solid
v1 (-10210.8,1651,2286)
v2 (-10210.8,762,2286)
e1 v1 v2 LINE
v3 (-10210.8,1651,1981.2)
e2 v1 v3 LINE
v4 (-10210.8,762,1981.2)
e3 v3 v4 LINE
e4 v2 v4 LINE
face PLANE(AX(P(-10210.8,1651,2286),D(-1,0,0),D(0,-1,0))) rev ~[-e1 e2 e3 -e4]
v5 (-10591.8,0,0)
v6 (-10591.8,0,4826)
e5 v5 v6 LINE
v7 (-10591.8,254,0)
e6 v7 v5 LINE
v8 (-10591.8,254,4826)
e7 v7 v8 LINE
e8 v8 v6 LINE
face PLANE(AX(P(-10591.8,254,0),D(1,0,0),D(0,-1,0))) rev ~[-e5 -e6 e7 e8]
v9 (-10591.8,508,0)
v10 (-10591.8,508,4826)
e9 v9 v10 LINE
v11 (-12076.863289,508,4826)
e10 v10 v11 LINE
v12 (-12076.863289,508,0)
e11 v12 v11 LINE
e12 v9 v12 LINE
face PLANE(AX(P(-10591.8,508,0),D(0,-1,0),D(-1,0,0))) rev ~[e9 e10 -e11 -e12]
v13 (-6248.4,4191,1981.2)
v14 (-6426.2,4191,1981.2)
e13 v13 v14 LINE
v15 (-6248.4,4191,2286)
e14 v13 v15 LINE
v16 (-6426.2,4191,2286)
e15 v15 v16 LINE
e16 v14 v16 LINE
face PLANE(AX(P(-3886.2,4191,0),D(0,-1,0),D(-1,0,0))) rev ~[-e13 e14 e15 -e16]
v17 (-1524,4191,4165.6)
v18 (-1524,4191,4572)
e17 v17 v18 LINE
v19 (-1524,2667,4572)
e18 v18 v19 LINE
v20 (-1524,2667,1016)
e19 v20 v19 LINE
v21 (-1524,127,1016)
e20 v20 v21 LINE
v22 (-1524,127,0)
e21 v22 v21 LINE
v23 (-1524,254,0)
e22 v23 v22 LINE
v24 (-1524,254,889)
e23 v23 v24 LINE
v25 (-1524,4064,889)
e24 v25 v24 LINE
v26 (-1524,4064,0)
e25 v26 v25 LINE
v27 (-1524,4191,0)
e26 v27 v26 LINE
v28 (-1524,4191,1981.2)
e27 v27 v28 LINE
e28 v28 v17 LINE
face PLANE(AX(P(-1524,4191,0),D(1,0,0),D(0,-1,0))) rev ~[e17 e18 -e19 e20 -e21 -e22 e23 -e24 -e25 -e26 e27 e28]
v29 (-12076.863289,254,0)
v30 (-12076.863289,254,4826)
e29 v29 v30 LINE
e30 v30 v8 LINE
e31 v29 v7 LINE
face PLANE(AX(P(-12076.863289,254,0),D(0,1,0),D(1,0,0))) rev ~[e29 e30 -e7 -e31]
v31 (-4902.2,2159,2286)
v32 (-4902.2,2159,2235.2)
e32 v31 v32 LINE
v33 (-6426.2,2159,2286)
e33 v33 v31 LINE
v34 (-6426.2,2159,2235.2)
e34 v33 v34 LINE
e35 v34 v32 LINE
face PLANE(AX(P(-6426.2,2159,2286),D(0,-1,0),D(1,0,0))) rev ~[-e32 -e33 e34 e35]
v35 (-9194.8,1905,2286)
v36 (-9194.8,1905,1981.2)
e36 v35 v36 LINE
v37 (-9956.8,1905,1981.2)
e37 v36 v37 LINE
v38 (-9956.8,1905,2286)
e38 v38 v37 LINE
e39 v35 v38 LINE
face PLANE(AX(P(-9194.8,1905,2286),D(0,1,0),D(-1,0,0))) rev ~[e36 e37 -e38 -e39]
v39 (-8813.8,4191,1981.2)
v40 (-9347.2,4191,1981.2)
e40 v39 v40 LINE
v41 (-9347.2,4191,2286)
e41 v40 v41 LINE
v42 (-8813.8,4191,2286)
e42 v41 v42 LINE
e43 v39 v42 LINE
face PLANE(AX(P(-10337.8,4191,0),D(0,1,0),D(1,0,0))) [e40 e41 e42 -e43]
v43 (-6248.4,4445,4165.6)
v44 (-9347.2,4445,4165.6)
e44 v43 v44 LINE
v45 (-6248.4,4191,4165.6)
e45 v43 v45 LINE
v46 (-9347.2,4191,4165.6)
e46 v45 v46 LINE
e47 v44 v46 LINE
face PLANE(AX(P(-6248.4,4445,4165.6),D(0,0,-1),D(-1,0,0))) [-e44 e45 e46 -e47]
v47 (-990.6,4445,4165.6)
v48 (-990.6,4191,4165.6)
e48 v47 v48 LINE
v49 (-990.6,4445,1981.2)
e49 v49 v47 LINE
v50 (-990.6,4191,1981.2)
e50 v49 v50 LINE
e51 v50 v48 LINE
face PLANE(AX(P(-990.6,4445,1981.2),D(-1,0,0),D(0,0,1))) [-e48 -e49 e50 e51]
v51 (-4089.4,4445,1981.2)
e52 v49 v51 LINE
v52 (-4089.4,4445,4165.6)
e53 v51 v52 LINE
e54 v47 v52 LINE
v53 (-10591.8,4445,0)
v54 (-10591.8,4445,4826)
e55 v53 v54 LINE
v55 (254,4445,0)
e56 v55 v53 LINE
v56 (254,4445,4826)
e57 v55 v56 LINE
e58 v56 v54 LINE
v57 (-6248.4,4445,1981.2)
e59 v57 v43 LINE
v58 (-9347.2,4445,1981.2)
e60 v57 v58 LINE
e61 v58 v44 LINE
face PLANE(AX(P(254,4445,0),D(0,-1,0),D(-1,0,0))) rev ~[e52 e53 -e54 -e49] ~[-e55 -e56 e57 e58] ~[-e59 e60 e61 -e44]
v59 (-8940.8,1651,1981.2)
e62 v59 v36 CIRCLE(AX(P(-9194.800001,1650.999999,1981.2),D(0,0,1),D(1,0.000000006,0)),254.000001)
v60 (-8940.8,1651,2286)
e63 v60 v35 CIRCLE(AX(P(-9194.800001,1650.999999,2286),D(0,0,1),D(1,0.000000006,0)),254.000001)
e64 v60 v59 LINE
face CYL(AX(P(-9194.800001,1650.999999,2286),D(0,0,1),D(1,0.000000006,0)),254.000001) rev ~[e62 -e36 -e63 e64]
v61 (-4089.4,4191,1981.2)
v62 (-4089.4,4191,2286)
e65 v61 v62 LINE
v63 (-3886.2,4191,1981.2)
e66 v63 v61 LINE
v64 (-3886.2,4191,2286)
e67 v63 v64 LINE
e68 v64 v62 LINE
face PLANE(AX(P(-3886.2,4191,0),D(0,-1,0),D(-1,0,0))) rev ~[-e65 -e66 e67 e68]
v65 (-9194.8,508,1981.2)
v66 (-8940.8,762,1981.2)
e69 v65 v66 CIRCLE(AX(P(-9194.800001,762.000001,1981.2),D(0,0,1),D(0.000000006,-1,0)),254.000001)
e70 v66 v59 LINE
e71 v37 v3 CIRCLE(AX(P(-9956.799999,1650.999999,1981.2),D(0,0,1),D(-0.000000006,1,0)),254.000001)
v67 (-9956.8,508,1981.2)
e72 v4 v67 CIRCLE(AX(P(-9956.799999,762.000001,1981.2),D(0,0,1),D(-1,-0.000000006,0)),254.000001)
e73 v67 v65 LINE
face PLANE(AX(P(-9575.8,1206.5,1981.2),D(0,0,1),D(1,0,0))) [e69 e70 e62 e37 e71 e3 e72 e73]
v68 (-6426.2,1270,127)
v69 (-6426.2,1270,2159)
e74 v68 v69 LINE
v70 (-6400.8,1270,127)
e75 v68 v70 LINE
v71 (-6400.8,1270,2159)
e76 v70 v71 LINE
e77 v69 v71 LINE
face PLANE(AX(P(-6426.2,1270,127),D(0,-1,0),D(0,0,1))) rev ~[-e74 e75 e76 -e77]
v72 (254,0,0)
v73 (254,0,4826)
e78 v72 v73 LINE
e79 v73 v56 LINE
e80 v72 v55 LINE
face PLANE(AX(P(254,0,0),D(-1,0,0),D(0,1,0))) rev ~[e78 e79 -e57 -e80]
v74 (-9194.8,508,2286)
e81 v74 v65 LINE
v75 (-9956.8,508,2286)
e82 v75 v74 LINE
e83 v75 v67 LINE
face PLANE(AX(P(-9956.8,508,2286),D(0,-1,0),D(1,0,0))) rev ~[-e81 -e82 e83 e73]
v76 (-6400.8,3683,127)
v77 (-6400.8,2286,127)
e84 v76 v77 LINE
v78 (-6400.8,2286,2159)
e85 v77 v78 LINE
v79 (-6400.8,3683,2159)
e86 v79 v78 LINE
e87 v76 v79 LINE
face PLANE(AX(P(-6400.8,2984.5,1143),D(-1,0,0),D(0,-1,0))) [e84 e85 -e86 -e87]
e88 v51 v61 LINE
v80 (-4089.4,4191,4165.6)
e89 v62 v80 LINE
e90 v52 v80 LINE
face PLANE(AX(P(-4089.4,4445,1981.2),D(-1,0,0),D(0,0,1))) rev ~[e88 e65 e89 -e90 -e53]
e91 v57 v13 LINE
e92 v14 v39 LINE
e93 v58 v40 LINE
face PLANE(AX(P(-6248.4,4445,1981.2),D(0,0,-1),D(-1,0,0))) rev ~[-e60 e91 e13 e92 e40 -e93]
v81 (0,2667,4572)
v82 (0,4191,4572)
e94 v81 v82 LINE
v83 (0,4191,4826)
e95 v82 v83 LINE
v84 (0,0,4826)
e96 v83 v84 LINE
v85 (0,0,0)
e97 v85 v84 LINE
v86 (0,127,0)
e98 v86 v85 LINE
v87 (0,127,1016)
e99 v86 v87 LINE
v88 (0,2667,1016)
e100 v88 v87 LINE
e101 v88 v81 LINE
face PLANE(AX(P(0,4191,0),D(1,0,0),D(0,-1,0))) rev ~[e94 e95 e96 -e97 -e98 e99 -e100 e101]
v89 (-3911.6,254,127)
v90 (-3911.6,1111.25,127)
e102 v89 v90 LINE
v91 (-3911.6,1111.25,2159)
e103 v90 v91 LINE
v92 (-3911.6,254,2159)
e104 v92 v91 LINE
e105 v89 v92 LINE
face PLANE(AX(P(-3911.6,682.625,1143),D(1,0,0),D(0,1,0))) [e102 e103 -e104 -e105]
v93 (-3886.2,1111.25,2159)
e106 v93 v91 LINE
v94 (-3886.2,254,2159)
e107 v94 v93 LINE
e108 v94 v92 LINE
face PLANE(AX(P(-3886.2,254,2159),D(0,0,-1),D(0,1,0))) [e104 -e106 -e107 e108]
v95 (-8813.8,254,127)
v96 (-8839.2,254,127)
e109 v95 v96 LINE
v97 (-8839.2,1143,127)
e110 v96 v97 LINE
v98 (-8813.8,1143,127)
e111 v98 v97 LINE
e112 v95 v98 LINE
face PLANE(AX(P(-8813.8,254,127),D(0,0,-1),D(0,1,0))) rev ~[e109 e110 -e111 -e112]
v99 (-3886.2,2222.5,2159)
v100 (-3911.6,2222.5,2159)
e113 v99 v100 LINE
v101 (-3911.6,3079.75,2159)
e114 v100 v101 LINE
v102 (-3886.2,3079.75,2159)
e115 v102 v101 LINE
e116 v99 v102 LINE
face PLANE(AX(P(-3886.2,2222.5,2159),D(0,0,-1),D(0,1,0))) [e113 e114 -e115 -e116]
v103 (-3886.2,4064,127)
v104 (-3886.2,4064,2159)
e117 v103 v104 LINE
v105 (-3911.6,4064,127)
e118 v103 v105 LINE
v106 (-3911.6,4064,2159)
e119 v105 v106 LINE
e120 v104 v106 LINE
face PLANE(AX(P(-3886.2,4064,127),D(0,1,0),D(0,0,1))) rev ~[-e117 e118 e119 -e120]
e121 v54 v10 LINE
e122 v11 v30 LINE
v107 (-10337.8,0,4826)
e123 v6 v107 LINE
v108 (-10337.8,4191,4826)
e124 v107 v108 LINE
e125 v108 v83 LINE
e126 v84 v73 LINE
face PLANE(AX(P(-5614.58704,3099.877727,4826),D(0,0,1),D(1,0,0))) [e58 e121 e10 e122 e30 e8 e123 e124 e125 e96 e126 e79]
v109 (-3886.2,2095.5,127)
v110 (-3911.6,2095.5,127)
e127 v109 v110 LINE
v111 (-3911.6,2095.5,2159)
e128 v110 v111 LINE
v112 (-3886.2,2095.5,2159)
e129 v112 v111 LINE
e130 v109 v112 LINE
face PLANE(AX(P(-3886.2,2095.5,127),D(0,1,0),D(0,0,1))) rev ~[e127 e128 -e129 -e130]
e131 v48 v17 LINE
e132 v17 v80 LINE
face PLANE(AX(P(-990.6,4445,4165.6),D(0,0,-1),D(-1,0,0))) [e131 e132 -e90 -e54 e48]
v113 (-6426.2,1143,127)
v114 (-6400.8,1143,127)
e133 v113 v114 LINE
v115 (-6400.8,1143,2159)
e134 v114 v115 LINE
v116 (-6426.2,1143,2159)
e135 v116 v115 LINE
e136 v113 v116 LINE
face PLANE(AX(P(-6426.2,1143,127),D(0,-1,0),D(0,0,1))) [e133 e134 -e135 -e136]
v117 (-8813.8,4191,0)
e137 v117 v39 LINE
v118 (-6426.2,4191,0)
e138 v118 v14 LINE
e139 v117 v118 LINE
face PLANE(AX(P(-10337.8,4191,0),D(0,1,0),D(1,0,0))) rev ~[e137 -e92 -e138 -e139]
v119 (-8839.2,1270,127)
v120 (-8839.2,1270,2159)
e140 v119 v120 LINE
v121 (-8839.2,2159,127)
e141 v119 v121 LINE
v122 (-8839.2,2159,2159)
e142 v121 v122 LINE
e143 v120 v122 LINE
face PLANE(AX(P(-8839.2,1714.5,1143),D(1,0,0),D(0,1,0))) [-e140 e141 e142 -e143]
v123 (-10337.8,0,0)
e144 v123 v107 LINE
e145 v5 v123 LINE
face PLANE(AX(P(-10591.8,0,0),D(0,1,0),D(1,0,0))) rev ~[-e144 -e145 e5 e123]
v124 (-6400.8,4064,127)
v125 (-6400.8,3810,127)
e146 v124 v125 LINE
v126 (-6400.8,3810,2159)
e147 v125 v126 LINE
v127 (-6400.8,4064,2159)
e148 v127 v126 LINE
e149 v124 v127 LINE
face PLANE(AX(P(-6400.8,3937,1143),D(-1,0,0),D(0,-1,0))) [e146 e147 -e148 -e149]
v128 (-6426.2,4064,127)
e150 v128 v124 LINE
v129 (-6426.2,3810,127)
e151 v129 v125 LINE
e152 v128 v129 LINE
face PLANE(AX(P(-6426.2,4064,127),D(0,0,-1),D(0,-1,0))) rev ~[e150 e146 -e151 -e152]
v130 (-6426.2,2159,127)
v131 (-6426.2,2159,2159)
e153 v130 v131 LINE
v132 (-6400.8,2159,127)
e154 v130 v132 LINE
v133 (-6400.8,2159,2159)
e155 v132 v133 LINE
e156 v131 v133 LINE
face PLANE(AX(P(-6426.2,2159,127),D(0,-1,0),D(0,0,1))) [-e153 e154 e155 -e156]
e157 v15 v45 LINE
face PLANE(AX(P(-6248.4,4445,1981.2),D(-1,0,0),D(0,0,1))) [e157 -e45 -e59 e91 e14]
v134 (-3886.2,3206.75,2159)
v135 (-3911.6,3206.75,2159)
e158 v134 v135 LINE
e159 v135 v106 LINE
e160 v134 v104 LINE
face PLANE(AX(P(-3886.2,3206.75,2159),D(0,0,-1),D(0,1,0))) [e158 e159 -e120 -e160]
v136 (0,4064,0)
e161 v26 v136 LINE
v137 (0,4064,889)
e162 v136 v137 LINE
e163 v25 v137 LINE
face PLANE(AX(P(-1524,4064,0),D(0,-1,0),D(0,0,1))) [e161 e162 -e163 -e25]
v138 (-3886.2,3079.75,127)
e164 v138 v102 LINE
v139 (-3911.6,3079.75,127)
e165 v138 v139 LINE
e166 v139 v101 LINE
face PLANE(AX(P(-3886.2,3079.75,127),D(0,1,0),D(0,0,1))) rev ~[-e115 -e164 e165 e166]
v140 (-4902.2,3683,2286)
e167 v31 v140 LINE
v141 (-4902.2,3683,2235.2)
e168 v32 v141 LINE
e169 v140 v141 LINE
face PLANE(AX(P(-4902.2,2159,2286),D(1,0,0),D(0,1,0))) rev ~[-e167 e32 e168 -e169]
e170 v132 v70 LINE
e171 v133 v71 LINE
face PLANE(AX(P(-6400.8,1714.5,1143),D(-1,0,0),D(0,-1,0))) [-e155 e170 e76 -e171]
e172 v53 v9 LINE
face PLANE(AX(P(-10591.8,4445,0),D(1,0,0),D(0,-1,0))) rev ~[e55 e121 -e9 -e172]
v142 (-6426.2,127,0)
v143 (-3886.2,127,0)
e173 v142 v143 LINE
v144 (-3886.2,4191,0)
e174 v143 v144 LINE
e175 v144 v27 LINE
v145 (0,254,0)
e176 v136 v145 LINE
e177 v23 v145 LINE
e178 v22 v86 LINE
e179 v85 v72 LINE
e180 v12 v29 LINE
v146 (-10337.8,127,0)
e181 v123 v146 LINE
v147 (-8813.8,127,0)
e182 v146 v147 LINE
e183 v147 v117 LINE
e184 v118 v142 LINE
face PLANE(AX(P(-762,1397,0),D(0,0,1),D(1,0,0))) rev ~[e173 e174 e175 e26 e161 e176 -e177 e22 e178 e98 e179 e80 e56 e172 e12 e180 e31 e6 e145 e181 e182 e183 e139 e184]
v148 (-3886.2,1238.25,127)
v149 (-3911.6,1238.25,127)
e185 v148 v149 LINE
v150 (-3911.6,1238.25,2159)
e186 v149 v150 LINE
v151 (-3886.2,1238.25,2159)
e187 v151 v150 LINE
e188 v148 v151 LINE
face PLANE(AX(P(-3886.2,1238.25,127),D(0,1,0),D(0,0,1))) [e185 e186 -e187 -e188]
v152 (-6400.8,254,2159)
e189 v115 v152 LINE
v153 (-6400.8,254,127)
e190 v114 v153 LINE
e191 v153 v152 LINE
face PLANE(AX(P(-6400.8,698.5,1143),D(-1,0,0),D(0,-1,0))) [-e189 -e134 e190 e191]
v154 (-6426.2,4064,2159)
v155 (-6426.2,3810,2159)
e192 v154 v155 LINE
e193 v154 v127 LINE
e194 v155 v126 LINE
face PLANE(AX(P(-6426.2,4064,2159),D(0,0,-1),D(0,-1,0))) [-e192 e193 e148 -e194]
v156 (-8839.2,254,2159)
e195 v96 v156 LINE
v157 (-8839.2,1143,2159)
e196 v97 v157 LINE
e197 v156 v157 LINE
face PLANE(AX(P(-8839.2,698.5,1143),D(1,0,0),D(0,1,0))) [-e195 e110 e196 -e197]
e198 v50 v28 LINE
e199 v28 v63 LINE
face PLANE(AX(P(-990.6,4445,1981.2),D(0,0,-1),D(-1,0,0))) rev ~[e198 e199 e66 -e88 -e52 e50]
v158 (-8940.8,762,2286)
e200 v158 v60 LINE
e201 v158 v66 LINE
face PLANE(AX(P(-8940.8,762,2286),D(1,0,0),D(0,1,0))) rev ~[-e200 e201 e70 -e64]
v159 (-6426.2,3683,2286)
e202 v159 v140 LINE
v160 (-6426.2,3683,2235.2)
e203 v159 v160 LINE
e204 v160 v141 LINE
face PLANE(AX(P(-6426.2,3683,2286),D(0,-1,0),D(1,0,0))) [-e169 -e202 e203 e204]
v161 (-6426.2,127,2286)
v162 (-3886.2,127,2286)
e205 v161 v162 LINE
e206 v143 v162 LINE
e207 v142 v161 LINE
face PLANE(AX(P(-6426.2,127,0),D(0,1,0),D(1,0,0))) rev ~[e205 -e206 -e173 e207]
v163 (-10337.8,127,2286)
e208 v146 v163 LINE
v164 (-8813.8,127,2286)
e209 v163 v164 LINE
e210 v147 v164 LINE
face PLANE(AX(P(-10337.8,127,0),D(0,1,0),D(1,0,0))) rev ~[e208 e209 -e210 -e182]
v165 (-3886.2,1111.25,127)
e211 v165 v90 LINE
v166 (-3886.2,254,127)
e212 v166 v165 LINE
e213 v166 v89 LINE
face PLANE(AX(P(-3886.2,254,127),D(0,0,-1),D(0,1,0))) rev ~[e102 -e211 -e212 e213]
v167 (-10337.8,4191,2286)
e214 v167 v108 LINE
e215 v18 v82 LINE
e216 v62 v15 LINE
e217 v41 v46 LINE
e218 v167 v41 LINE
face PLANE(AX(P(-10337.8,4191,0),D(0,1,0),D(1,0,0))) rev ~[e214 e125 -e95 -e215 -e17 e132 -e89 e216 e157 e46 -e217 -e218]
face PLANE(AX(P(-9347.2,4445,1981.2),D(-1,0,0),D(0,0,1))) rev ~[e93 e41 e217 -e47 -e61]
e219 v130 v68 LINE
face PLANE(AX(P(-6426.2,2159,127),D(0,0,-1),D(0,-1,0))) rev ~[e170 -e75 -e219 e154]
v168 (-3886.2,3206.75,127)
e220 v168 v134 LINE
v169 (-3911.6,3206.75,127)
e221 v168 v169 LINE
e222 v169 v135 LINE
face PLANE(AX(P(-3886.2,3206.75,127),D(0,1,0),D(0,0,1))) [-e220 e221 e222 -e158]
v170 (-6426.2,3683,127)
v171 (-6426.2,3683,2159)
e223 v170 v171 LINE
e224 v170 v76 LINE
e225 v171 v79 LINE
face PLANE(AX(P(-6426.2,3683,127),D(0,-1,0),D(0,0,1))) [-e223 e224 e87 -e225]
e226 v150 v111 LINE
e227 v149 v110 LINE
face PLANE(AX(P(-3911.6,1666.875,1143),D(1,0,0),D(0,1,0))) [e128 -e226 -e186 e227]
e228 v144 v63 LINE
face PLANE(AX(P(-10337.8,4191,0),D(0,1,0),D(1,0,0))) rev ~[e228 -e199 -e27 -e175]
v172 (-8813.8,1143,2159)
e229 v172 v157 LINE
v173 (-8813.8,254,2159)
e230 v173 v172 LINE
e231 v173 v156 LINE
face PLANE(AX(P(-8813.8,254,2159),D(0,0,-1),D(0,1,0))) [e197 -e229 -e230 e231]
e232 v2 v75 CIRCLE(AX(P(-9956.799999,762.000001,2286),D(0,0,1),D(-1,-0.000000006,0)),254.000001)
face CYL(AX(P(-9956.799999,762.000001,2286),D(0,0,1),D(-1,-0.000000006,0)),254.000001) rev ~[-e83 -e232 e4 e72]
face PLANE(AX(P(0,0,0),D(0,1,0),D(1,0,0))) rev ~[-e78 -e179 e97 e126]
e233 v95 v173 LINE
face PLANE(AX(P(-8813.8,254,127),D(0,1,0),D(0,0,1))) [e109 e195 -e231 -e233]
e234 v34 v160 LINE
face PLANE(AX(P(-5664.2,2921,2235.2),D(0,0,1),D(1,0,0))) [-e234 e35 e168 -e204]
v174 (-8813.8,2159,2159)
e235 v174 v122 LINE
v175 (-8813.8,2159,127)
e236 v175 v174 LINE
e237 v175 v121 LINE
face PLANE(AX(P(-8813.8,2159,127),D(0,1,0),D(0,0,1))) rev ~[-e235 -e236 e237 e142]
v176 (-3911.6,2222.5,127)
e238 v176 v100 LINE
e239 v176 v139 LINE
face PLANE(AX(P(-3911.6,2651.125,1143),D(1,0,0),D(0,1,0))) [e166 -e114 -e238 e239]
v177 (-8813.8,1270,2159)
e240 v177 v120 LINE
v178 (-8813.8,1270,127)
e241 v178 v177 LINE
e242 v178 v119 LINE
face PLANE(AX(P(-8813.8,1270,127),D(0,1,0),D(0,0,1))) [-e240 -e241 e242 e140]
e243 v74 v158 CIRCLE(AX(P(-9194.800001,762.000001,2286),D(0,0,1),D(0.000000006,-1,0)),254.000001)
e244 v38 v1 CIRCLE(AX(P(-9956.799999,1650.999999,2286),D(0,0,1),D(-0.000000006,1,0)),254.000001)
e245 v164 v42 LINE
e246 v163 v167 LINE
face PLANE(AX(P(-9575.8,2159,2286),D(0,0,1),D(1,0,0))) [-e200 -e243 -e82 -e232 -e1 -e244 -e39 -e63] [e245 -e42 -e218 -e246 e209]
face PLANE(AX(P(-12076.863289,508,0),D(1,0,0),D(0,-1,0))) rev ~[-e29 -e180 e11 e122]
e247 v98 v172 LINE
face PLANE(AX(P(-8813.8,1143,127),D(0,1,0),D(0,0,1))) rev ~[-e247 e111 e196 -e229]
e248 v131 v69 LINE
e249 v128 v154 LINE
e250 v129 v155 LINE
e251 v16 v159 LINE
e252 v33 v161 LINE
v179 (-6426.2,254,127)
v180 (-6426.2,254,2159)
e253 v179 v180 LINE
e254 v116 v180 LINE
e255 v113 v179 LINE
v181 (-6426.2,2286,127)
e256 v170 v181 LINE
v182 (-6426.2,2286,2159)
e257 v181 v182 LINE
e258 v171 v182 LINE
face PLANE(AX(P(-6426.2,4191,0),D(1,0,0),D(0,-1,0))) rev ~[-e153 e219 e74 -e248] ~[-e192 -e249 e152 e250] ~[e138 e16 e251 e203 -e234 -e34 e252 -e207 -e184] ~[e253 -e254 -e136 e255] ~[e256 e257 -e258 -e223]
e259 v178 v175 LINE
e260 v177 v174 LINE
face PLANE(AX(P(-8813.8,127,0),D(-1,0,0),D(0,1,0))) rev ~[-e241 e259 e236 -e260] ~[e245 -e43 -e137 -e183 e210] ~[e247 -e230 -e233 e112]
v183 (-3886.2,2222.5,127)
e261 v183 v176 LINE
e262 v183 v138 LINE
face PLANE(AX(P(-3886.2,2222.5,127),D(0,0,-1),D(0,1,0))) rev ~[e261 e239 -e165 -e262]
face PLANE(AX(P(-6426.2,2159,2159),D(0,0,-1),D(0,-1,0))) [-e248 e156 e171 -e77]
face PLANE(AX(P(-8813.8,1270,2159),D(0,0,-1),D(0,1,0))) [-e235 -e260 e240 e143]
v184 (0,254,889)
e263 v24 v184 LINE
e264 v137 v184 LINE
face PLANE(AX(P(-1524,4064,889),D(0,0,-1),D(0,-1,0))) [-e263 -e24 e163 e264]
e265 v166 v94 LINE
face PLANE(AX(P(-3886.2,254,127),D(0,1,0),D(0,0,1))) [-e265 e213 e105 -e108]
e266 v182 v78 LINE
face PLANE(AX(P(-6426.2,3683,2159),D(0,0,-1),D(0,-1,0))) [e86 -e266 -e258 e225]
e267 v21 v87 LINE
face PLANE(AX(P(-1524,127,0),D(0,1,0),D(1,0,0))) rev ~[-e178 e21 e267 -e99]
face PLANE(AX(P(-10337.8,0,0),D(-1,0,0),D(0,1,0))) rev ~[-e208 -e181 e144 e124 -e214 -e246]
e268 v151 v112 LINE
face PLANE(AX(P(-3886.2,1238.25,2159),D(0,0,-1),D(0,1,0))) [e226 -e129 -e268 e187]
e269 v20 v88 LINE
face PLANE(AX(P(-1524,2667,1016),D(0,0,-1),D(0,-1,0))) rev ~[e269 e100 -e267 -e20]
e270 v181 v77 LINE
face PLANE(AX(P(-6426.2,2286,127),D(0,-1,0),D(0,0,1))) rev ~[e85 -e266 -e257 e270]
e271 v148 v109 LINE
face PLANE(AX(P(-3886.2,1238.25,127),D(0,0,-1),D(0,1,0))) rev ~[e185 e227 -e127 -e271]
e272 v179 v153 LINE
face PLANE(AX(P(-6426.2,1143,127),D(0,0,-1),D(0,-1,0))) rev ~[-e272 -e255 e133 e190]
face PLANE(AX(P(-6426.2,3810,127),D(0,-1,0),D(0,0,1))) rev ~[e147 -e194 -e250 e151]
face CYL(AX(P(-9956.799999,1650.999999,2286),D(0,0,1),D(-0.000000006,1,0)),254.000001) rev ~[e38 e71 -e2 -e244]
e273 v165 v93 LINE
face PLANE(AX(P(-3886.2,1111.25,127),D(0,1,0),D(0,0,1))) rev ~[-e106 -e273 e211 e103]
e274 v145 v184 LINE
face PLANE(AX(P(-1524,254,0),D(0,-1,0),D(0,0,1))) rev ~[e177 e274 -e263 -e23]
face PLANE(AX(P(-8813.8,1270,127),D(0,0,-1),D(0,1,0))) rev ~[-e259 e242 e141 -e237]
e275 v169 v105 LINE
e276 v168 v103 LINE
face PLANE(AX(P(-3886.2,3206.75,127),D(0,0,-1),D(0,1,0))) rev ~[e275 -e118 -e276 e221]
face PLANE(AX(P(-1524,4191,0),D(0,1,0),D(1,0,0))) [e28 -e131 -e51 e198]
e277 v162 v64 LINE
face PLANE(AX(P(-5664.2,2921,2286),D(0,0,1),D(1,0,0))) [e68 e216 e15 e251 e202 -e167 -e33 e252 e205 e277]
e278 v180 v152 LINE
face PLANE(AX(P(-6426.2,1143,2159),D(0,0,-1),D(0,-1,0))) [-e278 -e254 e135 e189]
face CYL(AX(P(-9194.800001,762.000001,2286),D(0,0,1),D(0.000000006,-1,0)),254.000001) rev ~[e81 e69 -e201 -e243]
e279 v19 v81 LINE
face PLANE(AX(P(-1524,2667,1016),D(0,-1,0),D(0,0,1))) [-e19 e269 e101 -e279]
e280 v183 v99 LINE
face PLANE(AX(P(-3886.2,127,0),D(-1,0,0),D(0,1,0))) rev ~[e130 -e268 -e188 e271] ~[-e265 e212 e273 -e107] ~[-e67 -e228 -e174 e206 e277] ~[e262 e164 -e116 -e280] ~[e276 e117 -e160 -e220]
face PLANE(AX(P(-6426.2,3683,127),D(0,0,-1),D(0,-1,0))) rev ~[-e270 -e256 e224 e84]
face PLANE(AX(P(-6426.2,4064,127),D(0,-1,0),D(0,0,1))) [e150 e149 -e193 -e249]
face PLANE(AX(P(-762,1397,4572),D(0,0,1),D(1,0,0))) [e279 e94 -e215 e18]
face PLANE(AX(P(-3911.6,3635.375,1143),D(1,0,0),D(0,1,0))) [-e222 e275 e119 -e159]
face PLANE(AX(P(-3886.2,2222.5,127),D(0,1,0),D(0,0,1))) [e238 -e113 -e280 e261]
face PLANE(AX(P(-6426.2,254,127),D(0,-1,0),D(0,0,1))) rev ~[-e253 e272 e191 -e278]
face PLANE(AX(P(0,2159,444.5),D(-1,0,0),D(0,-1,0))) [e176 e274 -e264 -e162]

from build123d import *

# Parameters (mm, degrees)
F1_DEPTH  = 4826
F2_W      = 3098.8
F2_H      = 2184.4
F3_DEPTH  = 254
F0_W      = 1524
F0_H      = 4064
F0_H_2    = 1524
F4_DEPTH  = 2286
F0_H_3    = 2540
F5_DEPTH  = 4572
F6_W      = 2540
F6_H      = 3556
F6_W_2    = 3810
F6_H_2    = 889
F7_DEPTH  = 1524
F8_W      = 1524
F8_H      = 1524
F9_DEPTH  = 50.8
F11_DEPTH = 304.8
F12_W     = 889
F12_H     = 2032
F13_DEPTH = 25.4
F14_W     = 857.25
F14_H     = 2032
F15_DEPTH = 25.4
F16_W     = 889
F16_H     = 2032
F16_W_2   = 1397
F16_W_3   = 254
F17_DEPTH = 25.4


with BuildPart() as f1:
    # F0 (on Top) → F1 (new body)
    with BuildSketch(Plane.XY):
        Polygon((0, 127), (0, 0), (254, 0), (254, 4445), (-10591.8, 4445), (-10591.8, 508), (-12076.863289, 508), (-12076.863289, 254), (-10591.8, 254), (-10591.8, 0), (-10337.8, 0), (-10337.8, 127), (-10337.8, 4191), (-8813.8, 4191), (-6426.2, 4191), (-3886.2, 4191), (-1524, 4191), (0, 4191), (0, 2667), align=None)
    extrude(amount=F1_DEPTH)

    # F2 (on face) → F3 (cut)
    with BuildSketch(Plane(origin=(0, 4445, 0), x_dir=(-1, 0, 0), z_dir=(0, 1, 0))):
        with Locations((2540, 3073.4)):
            Rectangle(F2_W, F2_H)
        with Locations((7797.8, 3073.4)):
            Rectangle(F2_W, F2_H)
    extrude(amount=-F3_DEPTH, mode=Mode.SUBTRACT)

    # F0 (on Top) → F4 (join)
    with BuildSketch(Plane.XY):
        with Locations((-9575.8, 2159)):
            Rectangle(F0_W, F0_H)
        with Locations((-5664.2, 2921)):
            Rectangle(F0_W, F0_H_2)
        Polygon((-3886.2, 127), (-3886.2, 4191), (-6426.2, 4191), (-6426.2, 3683), (-4902.2, 3683), (-4902.2, 2159), (-6426.2, 2159), (-6426.2, 127), align=None)
    extrude(amount=F4_DEPTH)

    # F0 (on Top) → F5 (join)
    with BuildSketch(Plane.XY):
        with Locations((-762, 1397)):
            Rectangle(F0_W, F0_H_3)
        with Locations((-762, 3429)):
            Rectangle(F0_W, F0_H_2)
    extrude(amount=F5_DEPTH)

    # F6 (on face) → F7 (cut)
    with BuildSketch(Plane(origin=(-1524, 0, 0), x_dir=(0, -1, 0), z_dir=(-1, 0, 0))):
        with Locations((-1397, 2794)):
            Rectangle(F6_W, F6_H)
        with Locations((-2159, 444.5)):
            Rectangle(F6_W_2, F6_H_2)
    extrude(amount=-F7_DEPTH, mode=Mode.SUBTRACT)

    # F8 (on face) → F9 (cut)
    with BuildSketch(Plane.XY.offset(2286)):
        with Locations((-5664.2, 2921)):
            Rectangle(F8_W, F8_H)
    extrude(amount=-F9_DEPTH, mode=Mode.SUBTRACT)

    # F10 (on face) → F11 (cut)
    with BuildSketch(Plane.XY.offset(2286)):
        with BuildLine():
            ThreePointArc((-8940.8, 1651), (-9015.194878, 1830.605122), (-9194.8, 1905))
            Line((-9194.8, 1905), (-9956.8, 1905))
            ThreePointArc((-9956.8, 1905), (-10136.405122, 1830.605122), (-10210.8, 1651))
            Line((-10210.8, 1651), (-10210.8, 762))
            ThreePointArc((-10210.8, 762), (-10136.405122, 582.394878), (-9956.8, 508))
            Line((-9956.8, 508), (-9194.8, 508))
            ThreePointArc((-9194.8, 508), (-9015.194878, 582.394878), (-8940.8, 762))
            Line((-8940.8, 762), (-8940.8, 1651))
        make_face()
    extrude(amount=-F11_DEPTH, mode=Mode.SUBTRACT)

    # F12 (on face) → F13 (cut)
    with BuildSketch(Plane.YZ.offset(-8813.8)):
        with Locations((698.5, 1143)):
            Rectangle(F12_W, F12_H)
        with Locations((1714.5, 1143)):
            Rectangle(F12_W, F12_H)
    extrude(amount=-F13_DEPTH, mode=Mode.SUBTRACT)

    # F14 (on face) → F15 (cut)
    with BuildSketch(Plane.YZ.offset(-3886.2)):
        with Locations((682.625, 1143)):
            Rectangle(F14_W, F14_H)
        with Locations((1666.875, 1143)):
            Rectangle(F14_W, F14_H)
        with Locations((2651.125, 1143)):
            Rectangle(F14_W, F14_H)
        with Locations((3635.375, 1143)):
            Rectangle(F14_W, F14_H)
    extrude(amount=-F15_DEPTH, mode=Mode.SUBTRACT)

    # F16 (on face) → F17 (cut)
    with BuildSketch(Plane(origin=(-6426.2, 0, 0), x_dir=(0, -1, 0), z_dir=(-1, 0, 0))):
        with Locations((-698.5, 1143)):
            Rectangle(F16_W, F16_H)
        with Locations((-1714.5, 1143)):
            Rectangle(F16_W, F16_H)
        with Locations((-2984.5, 1143)):
            Rectangle(F16_W_2, F16_H)
        with Locations((-3937, 1143)):
            Rectangle(F16_W_3, F16_H)
    extrude(amount=-F17_DEPTH, mode=Mode.SUBTRACT)


solid = f1.part
